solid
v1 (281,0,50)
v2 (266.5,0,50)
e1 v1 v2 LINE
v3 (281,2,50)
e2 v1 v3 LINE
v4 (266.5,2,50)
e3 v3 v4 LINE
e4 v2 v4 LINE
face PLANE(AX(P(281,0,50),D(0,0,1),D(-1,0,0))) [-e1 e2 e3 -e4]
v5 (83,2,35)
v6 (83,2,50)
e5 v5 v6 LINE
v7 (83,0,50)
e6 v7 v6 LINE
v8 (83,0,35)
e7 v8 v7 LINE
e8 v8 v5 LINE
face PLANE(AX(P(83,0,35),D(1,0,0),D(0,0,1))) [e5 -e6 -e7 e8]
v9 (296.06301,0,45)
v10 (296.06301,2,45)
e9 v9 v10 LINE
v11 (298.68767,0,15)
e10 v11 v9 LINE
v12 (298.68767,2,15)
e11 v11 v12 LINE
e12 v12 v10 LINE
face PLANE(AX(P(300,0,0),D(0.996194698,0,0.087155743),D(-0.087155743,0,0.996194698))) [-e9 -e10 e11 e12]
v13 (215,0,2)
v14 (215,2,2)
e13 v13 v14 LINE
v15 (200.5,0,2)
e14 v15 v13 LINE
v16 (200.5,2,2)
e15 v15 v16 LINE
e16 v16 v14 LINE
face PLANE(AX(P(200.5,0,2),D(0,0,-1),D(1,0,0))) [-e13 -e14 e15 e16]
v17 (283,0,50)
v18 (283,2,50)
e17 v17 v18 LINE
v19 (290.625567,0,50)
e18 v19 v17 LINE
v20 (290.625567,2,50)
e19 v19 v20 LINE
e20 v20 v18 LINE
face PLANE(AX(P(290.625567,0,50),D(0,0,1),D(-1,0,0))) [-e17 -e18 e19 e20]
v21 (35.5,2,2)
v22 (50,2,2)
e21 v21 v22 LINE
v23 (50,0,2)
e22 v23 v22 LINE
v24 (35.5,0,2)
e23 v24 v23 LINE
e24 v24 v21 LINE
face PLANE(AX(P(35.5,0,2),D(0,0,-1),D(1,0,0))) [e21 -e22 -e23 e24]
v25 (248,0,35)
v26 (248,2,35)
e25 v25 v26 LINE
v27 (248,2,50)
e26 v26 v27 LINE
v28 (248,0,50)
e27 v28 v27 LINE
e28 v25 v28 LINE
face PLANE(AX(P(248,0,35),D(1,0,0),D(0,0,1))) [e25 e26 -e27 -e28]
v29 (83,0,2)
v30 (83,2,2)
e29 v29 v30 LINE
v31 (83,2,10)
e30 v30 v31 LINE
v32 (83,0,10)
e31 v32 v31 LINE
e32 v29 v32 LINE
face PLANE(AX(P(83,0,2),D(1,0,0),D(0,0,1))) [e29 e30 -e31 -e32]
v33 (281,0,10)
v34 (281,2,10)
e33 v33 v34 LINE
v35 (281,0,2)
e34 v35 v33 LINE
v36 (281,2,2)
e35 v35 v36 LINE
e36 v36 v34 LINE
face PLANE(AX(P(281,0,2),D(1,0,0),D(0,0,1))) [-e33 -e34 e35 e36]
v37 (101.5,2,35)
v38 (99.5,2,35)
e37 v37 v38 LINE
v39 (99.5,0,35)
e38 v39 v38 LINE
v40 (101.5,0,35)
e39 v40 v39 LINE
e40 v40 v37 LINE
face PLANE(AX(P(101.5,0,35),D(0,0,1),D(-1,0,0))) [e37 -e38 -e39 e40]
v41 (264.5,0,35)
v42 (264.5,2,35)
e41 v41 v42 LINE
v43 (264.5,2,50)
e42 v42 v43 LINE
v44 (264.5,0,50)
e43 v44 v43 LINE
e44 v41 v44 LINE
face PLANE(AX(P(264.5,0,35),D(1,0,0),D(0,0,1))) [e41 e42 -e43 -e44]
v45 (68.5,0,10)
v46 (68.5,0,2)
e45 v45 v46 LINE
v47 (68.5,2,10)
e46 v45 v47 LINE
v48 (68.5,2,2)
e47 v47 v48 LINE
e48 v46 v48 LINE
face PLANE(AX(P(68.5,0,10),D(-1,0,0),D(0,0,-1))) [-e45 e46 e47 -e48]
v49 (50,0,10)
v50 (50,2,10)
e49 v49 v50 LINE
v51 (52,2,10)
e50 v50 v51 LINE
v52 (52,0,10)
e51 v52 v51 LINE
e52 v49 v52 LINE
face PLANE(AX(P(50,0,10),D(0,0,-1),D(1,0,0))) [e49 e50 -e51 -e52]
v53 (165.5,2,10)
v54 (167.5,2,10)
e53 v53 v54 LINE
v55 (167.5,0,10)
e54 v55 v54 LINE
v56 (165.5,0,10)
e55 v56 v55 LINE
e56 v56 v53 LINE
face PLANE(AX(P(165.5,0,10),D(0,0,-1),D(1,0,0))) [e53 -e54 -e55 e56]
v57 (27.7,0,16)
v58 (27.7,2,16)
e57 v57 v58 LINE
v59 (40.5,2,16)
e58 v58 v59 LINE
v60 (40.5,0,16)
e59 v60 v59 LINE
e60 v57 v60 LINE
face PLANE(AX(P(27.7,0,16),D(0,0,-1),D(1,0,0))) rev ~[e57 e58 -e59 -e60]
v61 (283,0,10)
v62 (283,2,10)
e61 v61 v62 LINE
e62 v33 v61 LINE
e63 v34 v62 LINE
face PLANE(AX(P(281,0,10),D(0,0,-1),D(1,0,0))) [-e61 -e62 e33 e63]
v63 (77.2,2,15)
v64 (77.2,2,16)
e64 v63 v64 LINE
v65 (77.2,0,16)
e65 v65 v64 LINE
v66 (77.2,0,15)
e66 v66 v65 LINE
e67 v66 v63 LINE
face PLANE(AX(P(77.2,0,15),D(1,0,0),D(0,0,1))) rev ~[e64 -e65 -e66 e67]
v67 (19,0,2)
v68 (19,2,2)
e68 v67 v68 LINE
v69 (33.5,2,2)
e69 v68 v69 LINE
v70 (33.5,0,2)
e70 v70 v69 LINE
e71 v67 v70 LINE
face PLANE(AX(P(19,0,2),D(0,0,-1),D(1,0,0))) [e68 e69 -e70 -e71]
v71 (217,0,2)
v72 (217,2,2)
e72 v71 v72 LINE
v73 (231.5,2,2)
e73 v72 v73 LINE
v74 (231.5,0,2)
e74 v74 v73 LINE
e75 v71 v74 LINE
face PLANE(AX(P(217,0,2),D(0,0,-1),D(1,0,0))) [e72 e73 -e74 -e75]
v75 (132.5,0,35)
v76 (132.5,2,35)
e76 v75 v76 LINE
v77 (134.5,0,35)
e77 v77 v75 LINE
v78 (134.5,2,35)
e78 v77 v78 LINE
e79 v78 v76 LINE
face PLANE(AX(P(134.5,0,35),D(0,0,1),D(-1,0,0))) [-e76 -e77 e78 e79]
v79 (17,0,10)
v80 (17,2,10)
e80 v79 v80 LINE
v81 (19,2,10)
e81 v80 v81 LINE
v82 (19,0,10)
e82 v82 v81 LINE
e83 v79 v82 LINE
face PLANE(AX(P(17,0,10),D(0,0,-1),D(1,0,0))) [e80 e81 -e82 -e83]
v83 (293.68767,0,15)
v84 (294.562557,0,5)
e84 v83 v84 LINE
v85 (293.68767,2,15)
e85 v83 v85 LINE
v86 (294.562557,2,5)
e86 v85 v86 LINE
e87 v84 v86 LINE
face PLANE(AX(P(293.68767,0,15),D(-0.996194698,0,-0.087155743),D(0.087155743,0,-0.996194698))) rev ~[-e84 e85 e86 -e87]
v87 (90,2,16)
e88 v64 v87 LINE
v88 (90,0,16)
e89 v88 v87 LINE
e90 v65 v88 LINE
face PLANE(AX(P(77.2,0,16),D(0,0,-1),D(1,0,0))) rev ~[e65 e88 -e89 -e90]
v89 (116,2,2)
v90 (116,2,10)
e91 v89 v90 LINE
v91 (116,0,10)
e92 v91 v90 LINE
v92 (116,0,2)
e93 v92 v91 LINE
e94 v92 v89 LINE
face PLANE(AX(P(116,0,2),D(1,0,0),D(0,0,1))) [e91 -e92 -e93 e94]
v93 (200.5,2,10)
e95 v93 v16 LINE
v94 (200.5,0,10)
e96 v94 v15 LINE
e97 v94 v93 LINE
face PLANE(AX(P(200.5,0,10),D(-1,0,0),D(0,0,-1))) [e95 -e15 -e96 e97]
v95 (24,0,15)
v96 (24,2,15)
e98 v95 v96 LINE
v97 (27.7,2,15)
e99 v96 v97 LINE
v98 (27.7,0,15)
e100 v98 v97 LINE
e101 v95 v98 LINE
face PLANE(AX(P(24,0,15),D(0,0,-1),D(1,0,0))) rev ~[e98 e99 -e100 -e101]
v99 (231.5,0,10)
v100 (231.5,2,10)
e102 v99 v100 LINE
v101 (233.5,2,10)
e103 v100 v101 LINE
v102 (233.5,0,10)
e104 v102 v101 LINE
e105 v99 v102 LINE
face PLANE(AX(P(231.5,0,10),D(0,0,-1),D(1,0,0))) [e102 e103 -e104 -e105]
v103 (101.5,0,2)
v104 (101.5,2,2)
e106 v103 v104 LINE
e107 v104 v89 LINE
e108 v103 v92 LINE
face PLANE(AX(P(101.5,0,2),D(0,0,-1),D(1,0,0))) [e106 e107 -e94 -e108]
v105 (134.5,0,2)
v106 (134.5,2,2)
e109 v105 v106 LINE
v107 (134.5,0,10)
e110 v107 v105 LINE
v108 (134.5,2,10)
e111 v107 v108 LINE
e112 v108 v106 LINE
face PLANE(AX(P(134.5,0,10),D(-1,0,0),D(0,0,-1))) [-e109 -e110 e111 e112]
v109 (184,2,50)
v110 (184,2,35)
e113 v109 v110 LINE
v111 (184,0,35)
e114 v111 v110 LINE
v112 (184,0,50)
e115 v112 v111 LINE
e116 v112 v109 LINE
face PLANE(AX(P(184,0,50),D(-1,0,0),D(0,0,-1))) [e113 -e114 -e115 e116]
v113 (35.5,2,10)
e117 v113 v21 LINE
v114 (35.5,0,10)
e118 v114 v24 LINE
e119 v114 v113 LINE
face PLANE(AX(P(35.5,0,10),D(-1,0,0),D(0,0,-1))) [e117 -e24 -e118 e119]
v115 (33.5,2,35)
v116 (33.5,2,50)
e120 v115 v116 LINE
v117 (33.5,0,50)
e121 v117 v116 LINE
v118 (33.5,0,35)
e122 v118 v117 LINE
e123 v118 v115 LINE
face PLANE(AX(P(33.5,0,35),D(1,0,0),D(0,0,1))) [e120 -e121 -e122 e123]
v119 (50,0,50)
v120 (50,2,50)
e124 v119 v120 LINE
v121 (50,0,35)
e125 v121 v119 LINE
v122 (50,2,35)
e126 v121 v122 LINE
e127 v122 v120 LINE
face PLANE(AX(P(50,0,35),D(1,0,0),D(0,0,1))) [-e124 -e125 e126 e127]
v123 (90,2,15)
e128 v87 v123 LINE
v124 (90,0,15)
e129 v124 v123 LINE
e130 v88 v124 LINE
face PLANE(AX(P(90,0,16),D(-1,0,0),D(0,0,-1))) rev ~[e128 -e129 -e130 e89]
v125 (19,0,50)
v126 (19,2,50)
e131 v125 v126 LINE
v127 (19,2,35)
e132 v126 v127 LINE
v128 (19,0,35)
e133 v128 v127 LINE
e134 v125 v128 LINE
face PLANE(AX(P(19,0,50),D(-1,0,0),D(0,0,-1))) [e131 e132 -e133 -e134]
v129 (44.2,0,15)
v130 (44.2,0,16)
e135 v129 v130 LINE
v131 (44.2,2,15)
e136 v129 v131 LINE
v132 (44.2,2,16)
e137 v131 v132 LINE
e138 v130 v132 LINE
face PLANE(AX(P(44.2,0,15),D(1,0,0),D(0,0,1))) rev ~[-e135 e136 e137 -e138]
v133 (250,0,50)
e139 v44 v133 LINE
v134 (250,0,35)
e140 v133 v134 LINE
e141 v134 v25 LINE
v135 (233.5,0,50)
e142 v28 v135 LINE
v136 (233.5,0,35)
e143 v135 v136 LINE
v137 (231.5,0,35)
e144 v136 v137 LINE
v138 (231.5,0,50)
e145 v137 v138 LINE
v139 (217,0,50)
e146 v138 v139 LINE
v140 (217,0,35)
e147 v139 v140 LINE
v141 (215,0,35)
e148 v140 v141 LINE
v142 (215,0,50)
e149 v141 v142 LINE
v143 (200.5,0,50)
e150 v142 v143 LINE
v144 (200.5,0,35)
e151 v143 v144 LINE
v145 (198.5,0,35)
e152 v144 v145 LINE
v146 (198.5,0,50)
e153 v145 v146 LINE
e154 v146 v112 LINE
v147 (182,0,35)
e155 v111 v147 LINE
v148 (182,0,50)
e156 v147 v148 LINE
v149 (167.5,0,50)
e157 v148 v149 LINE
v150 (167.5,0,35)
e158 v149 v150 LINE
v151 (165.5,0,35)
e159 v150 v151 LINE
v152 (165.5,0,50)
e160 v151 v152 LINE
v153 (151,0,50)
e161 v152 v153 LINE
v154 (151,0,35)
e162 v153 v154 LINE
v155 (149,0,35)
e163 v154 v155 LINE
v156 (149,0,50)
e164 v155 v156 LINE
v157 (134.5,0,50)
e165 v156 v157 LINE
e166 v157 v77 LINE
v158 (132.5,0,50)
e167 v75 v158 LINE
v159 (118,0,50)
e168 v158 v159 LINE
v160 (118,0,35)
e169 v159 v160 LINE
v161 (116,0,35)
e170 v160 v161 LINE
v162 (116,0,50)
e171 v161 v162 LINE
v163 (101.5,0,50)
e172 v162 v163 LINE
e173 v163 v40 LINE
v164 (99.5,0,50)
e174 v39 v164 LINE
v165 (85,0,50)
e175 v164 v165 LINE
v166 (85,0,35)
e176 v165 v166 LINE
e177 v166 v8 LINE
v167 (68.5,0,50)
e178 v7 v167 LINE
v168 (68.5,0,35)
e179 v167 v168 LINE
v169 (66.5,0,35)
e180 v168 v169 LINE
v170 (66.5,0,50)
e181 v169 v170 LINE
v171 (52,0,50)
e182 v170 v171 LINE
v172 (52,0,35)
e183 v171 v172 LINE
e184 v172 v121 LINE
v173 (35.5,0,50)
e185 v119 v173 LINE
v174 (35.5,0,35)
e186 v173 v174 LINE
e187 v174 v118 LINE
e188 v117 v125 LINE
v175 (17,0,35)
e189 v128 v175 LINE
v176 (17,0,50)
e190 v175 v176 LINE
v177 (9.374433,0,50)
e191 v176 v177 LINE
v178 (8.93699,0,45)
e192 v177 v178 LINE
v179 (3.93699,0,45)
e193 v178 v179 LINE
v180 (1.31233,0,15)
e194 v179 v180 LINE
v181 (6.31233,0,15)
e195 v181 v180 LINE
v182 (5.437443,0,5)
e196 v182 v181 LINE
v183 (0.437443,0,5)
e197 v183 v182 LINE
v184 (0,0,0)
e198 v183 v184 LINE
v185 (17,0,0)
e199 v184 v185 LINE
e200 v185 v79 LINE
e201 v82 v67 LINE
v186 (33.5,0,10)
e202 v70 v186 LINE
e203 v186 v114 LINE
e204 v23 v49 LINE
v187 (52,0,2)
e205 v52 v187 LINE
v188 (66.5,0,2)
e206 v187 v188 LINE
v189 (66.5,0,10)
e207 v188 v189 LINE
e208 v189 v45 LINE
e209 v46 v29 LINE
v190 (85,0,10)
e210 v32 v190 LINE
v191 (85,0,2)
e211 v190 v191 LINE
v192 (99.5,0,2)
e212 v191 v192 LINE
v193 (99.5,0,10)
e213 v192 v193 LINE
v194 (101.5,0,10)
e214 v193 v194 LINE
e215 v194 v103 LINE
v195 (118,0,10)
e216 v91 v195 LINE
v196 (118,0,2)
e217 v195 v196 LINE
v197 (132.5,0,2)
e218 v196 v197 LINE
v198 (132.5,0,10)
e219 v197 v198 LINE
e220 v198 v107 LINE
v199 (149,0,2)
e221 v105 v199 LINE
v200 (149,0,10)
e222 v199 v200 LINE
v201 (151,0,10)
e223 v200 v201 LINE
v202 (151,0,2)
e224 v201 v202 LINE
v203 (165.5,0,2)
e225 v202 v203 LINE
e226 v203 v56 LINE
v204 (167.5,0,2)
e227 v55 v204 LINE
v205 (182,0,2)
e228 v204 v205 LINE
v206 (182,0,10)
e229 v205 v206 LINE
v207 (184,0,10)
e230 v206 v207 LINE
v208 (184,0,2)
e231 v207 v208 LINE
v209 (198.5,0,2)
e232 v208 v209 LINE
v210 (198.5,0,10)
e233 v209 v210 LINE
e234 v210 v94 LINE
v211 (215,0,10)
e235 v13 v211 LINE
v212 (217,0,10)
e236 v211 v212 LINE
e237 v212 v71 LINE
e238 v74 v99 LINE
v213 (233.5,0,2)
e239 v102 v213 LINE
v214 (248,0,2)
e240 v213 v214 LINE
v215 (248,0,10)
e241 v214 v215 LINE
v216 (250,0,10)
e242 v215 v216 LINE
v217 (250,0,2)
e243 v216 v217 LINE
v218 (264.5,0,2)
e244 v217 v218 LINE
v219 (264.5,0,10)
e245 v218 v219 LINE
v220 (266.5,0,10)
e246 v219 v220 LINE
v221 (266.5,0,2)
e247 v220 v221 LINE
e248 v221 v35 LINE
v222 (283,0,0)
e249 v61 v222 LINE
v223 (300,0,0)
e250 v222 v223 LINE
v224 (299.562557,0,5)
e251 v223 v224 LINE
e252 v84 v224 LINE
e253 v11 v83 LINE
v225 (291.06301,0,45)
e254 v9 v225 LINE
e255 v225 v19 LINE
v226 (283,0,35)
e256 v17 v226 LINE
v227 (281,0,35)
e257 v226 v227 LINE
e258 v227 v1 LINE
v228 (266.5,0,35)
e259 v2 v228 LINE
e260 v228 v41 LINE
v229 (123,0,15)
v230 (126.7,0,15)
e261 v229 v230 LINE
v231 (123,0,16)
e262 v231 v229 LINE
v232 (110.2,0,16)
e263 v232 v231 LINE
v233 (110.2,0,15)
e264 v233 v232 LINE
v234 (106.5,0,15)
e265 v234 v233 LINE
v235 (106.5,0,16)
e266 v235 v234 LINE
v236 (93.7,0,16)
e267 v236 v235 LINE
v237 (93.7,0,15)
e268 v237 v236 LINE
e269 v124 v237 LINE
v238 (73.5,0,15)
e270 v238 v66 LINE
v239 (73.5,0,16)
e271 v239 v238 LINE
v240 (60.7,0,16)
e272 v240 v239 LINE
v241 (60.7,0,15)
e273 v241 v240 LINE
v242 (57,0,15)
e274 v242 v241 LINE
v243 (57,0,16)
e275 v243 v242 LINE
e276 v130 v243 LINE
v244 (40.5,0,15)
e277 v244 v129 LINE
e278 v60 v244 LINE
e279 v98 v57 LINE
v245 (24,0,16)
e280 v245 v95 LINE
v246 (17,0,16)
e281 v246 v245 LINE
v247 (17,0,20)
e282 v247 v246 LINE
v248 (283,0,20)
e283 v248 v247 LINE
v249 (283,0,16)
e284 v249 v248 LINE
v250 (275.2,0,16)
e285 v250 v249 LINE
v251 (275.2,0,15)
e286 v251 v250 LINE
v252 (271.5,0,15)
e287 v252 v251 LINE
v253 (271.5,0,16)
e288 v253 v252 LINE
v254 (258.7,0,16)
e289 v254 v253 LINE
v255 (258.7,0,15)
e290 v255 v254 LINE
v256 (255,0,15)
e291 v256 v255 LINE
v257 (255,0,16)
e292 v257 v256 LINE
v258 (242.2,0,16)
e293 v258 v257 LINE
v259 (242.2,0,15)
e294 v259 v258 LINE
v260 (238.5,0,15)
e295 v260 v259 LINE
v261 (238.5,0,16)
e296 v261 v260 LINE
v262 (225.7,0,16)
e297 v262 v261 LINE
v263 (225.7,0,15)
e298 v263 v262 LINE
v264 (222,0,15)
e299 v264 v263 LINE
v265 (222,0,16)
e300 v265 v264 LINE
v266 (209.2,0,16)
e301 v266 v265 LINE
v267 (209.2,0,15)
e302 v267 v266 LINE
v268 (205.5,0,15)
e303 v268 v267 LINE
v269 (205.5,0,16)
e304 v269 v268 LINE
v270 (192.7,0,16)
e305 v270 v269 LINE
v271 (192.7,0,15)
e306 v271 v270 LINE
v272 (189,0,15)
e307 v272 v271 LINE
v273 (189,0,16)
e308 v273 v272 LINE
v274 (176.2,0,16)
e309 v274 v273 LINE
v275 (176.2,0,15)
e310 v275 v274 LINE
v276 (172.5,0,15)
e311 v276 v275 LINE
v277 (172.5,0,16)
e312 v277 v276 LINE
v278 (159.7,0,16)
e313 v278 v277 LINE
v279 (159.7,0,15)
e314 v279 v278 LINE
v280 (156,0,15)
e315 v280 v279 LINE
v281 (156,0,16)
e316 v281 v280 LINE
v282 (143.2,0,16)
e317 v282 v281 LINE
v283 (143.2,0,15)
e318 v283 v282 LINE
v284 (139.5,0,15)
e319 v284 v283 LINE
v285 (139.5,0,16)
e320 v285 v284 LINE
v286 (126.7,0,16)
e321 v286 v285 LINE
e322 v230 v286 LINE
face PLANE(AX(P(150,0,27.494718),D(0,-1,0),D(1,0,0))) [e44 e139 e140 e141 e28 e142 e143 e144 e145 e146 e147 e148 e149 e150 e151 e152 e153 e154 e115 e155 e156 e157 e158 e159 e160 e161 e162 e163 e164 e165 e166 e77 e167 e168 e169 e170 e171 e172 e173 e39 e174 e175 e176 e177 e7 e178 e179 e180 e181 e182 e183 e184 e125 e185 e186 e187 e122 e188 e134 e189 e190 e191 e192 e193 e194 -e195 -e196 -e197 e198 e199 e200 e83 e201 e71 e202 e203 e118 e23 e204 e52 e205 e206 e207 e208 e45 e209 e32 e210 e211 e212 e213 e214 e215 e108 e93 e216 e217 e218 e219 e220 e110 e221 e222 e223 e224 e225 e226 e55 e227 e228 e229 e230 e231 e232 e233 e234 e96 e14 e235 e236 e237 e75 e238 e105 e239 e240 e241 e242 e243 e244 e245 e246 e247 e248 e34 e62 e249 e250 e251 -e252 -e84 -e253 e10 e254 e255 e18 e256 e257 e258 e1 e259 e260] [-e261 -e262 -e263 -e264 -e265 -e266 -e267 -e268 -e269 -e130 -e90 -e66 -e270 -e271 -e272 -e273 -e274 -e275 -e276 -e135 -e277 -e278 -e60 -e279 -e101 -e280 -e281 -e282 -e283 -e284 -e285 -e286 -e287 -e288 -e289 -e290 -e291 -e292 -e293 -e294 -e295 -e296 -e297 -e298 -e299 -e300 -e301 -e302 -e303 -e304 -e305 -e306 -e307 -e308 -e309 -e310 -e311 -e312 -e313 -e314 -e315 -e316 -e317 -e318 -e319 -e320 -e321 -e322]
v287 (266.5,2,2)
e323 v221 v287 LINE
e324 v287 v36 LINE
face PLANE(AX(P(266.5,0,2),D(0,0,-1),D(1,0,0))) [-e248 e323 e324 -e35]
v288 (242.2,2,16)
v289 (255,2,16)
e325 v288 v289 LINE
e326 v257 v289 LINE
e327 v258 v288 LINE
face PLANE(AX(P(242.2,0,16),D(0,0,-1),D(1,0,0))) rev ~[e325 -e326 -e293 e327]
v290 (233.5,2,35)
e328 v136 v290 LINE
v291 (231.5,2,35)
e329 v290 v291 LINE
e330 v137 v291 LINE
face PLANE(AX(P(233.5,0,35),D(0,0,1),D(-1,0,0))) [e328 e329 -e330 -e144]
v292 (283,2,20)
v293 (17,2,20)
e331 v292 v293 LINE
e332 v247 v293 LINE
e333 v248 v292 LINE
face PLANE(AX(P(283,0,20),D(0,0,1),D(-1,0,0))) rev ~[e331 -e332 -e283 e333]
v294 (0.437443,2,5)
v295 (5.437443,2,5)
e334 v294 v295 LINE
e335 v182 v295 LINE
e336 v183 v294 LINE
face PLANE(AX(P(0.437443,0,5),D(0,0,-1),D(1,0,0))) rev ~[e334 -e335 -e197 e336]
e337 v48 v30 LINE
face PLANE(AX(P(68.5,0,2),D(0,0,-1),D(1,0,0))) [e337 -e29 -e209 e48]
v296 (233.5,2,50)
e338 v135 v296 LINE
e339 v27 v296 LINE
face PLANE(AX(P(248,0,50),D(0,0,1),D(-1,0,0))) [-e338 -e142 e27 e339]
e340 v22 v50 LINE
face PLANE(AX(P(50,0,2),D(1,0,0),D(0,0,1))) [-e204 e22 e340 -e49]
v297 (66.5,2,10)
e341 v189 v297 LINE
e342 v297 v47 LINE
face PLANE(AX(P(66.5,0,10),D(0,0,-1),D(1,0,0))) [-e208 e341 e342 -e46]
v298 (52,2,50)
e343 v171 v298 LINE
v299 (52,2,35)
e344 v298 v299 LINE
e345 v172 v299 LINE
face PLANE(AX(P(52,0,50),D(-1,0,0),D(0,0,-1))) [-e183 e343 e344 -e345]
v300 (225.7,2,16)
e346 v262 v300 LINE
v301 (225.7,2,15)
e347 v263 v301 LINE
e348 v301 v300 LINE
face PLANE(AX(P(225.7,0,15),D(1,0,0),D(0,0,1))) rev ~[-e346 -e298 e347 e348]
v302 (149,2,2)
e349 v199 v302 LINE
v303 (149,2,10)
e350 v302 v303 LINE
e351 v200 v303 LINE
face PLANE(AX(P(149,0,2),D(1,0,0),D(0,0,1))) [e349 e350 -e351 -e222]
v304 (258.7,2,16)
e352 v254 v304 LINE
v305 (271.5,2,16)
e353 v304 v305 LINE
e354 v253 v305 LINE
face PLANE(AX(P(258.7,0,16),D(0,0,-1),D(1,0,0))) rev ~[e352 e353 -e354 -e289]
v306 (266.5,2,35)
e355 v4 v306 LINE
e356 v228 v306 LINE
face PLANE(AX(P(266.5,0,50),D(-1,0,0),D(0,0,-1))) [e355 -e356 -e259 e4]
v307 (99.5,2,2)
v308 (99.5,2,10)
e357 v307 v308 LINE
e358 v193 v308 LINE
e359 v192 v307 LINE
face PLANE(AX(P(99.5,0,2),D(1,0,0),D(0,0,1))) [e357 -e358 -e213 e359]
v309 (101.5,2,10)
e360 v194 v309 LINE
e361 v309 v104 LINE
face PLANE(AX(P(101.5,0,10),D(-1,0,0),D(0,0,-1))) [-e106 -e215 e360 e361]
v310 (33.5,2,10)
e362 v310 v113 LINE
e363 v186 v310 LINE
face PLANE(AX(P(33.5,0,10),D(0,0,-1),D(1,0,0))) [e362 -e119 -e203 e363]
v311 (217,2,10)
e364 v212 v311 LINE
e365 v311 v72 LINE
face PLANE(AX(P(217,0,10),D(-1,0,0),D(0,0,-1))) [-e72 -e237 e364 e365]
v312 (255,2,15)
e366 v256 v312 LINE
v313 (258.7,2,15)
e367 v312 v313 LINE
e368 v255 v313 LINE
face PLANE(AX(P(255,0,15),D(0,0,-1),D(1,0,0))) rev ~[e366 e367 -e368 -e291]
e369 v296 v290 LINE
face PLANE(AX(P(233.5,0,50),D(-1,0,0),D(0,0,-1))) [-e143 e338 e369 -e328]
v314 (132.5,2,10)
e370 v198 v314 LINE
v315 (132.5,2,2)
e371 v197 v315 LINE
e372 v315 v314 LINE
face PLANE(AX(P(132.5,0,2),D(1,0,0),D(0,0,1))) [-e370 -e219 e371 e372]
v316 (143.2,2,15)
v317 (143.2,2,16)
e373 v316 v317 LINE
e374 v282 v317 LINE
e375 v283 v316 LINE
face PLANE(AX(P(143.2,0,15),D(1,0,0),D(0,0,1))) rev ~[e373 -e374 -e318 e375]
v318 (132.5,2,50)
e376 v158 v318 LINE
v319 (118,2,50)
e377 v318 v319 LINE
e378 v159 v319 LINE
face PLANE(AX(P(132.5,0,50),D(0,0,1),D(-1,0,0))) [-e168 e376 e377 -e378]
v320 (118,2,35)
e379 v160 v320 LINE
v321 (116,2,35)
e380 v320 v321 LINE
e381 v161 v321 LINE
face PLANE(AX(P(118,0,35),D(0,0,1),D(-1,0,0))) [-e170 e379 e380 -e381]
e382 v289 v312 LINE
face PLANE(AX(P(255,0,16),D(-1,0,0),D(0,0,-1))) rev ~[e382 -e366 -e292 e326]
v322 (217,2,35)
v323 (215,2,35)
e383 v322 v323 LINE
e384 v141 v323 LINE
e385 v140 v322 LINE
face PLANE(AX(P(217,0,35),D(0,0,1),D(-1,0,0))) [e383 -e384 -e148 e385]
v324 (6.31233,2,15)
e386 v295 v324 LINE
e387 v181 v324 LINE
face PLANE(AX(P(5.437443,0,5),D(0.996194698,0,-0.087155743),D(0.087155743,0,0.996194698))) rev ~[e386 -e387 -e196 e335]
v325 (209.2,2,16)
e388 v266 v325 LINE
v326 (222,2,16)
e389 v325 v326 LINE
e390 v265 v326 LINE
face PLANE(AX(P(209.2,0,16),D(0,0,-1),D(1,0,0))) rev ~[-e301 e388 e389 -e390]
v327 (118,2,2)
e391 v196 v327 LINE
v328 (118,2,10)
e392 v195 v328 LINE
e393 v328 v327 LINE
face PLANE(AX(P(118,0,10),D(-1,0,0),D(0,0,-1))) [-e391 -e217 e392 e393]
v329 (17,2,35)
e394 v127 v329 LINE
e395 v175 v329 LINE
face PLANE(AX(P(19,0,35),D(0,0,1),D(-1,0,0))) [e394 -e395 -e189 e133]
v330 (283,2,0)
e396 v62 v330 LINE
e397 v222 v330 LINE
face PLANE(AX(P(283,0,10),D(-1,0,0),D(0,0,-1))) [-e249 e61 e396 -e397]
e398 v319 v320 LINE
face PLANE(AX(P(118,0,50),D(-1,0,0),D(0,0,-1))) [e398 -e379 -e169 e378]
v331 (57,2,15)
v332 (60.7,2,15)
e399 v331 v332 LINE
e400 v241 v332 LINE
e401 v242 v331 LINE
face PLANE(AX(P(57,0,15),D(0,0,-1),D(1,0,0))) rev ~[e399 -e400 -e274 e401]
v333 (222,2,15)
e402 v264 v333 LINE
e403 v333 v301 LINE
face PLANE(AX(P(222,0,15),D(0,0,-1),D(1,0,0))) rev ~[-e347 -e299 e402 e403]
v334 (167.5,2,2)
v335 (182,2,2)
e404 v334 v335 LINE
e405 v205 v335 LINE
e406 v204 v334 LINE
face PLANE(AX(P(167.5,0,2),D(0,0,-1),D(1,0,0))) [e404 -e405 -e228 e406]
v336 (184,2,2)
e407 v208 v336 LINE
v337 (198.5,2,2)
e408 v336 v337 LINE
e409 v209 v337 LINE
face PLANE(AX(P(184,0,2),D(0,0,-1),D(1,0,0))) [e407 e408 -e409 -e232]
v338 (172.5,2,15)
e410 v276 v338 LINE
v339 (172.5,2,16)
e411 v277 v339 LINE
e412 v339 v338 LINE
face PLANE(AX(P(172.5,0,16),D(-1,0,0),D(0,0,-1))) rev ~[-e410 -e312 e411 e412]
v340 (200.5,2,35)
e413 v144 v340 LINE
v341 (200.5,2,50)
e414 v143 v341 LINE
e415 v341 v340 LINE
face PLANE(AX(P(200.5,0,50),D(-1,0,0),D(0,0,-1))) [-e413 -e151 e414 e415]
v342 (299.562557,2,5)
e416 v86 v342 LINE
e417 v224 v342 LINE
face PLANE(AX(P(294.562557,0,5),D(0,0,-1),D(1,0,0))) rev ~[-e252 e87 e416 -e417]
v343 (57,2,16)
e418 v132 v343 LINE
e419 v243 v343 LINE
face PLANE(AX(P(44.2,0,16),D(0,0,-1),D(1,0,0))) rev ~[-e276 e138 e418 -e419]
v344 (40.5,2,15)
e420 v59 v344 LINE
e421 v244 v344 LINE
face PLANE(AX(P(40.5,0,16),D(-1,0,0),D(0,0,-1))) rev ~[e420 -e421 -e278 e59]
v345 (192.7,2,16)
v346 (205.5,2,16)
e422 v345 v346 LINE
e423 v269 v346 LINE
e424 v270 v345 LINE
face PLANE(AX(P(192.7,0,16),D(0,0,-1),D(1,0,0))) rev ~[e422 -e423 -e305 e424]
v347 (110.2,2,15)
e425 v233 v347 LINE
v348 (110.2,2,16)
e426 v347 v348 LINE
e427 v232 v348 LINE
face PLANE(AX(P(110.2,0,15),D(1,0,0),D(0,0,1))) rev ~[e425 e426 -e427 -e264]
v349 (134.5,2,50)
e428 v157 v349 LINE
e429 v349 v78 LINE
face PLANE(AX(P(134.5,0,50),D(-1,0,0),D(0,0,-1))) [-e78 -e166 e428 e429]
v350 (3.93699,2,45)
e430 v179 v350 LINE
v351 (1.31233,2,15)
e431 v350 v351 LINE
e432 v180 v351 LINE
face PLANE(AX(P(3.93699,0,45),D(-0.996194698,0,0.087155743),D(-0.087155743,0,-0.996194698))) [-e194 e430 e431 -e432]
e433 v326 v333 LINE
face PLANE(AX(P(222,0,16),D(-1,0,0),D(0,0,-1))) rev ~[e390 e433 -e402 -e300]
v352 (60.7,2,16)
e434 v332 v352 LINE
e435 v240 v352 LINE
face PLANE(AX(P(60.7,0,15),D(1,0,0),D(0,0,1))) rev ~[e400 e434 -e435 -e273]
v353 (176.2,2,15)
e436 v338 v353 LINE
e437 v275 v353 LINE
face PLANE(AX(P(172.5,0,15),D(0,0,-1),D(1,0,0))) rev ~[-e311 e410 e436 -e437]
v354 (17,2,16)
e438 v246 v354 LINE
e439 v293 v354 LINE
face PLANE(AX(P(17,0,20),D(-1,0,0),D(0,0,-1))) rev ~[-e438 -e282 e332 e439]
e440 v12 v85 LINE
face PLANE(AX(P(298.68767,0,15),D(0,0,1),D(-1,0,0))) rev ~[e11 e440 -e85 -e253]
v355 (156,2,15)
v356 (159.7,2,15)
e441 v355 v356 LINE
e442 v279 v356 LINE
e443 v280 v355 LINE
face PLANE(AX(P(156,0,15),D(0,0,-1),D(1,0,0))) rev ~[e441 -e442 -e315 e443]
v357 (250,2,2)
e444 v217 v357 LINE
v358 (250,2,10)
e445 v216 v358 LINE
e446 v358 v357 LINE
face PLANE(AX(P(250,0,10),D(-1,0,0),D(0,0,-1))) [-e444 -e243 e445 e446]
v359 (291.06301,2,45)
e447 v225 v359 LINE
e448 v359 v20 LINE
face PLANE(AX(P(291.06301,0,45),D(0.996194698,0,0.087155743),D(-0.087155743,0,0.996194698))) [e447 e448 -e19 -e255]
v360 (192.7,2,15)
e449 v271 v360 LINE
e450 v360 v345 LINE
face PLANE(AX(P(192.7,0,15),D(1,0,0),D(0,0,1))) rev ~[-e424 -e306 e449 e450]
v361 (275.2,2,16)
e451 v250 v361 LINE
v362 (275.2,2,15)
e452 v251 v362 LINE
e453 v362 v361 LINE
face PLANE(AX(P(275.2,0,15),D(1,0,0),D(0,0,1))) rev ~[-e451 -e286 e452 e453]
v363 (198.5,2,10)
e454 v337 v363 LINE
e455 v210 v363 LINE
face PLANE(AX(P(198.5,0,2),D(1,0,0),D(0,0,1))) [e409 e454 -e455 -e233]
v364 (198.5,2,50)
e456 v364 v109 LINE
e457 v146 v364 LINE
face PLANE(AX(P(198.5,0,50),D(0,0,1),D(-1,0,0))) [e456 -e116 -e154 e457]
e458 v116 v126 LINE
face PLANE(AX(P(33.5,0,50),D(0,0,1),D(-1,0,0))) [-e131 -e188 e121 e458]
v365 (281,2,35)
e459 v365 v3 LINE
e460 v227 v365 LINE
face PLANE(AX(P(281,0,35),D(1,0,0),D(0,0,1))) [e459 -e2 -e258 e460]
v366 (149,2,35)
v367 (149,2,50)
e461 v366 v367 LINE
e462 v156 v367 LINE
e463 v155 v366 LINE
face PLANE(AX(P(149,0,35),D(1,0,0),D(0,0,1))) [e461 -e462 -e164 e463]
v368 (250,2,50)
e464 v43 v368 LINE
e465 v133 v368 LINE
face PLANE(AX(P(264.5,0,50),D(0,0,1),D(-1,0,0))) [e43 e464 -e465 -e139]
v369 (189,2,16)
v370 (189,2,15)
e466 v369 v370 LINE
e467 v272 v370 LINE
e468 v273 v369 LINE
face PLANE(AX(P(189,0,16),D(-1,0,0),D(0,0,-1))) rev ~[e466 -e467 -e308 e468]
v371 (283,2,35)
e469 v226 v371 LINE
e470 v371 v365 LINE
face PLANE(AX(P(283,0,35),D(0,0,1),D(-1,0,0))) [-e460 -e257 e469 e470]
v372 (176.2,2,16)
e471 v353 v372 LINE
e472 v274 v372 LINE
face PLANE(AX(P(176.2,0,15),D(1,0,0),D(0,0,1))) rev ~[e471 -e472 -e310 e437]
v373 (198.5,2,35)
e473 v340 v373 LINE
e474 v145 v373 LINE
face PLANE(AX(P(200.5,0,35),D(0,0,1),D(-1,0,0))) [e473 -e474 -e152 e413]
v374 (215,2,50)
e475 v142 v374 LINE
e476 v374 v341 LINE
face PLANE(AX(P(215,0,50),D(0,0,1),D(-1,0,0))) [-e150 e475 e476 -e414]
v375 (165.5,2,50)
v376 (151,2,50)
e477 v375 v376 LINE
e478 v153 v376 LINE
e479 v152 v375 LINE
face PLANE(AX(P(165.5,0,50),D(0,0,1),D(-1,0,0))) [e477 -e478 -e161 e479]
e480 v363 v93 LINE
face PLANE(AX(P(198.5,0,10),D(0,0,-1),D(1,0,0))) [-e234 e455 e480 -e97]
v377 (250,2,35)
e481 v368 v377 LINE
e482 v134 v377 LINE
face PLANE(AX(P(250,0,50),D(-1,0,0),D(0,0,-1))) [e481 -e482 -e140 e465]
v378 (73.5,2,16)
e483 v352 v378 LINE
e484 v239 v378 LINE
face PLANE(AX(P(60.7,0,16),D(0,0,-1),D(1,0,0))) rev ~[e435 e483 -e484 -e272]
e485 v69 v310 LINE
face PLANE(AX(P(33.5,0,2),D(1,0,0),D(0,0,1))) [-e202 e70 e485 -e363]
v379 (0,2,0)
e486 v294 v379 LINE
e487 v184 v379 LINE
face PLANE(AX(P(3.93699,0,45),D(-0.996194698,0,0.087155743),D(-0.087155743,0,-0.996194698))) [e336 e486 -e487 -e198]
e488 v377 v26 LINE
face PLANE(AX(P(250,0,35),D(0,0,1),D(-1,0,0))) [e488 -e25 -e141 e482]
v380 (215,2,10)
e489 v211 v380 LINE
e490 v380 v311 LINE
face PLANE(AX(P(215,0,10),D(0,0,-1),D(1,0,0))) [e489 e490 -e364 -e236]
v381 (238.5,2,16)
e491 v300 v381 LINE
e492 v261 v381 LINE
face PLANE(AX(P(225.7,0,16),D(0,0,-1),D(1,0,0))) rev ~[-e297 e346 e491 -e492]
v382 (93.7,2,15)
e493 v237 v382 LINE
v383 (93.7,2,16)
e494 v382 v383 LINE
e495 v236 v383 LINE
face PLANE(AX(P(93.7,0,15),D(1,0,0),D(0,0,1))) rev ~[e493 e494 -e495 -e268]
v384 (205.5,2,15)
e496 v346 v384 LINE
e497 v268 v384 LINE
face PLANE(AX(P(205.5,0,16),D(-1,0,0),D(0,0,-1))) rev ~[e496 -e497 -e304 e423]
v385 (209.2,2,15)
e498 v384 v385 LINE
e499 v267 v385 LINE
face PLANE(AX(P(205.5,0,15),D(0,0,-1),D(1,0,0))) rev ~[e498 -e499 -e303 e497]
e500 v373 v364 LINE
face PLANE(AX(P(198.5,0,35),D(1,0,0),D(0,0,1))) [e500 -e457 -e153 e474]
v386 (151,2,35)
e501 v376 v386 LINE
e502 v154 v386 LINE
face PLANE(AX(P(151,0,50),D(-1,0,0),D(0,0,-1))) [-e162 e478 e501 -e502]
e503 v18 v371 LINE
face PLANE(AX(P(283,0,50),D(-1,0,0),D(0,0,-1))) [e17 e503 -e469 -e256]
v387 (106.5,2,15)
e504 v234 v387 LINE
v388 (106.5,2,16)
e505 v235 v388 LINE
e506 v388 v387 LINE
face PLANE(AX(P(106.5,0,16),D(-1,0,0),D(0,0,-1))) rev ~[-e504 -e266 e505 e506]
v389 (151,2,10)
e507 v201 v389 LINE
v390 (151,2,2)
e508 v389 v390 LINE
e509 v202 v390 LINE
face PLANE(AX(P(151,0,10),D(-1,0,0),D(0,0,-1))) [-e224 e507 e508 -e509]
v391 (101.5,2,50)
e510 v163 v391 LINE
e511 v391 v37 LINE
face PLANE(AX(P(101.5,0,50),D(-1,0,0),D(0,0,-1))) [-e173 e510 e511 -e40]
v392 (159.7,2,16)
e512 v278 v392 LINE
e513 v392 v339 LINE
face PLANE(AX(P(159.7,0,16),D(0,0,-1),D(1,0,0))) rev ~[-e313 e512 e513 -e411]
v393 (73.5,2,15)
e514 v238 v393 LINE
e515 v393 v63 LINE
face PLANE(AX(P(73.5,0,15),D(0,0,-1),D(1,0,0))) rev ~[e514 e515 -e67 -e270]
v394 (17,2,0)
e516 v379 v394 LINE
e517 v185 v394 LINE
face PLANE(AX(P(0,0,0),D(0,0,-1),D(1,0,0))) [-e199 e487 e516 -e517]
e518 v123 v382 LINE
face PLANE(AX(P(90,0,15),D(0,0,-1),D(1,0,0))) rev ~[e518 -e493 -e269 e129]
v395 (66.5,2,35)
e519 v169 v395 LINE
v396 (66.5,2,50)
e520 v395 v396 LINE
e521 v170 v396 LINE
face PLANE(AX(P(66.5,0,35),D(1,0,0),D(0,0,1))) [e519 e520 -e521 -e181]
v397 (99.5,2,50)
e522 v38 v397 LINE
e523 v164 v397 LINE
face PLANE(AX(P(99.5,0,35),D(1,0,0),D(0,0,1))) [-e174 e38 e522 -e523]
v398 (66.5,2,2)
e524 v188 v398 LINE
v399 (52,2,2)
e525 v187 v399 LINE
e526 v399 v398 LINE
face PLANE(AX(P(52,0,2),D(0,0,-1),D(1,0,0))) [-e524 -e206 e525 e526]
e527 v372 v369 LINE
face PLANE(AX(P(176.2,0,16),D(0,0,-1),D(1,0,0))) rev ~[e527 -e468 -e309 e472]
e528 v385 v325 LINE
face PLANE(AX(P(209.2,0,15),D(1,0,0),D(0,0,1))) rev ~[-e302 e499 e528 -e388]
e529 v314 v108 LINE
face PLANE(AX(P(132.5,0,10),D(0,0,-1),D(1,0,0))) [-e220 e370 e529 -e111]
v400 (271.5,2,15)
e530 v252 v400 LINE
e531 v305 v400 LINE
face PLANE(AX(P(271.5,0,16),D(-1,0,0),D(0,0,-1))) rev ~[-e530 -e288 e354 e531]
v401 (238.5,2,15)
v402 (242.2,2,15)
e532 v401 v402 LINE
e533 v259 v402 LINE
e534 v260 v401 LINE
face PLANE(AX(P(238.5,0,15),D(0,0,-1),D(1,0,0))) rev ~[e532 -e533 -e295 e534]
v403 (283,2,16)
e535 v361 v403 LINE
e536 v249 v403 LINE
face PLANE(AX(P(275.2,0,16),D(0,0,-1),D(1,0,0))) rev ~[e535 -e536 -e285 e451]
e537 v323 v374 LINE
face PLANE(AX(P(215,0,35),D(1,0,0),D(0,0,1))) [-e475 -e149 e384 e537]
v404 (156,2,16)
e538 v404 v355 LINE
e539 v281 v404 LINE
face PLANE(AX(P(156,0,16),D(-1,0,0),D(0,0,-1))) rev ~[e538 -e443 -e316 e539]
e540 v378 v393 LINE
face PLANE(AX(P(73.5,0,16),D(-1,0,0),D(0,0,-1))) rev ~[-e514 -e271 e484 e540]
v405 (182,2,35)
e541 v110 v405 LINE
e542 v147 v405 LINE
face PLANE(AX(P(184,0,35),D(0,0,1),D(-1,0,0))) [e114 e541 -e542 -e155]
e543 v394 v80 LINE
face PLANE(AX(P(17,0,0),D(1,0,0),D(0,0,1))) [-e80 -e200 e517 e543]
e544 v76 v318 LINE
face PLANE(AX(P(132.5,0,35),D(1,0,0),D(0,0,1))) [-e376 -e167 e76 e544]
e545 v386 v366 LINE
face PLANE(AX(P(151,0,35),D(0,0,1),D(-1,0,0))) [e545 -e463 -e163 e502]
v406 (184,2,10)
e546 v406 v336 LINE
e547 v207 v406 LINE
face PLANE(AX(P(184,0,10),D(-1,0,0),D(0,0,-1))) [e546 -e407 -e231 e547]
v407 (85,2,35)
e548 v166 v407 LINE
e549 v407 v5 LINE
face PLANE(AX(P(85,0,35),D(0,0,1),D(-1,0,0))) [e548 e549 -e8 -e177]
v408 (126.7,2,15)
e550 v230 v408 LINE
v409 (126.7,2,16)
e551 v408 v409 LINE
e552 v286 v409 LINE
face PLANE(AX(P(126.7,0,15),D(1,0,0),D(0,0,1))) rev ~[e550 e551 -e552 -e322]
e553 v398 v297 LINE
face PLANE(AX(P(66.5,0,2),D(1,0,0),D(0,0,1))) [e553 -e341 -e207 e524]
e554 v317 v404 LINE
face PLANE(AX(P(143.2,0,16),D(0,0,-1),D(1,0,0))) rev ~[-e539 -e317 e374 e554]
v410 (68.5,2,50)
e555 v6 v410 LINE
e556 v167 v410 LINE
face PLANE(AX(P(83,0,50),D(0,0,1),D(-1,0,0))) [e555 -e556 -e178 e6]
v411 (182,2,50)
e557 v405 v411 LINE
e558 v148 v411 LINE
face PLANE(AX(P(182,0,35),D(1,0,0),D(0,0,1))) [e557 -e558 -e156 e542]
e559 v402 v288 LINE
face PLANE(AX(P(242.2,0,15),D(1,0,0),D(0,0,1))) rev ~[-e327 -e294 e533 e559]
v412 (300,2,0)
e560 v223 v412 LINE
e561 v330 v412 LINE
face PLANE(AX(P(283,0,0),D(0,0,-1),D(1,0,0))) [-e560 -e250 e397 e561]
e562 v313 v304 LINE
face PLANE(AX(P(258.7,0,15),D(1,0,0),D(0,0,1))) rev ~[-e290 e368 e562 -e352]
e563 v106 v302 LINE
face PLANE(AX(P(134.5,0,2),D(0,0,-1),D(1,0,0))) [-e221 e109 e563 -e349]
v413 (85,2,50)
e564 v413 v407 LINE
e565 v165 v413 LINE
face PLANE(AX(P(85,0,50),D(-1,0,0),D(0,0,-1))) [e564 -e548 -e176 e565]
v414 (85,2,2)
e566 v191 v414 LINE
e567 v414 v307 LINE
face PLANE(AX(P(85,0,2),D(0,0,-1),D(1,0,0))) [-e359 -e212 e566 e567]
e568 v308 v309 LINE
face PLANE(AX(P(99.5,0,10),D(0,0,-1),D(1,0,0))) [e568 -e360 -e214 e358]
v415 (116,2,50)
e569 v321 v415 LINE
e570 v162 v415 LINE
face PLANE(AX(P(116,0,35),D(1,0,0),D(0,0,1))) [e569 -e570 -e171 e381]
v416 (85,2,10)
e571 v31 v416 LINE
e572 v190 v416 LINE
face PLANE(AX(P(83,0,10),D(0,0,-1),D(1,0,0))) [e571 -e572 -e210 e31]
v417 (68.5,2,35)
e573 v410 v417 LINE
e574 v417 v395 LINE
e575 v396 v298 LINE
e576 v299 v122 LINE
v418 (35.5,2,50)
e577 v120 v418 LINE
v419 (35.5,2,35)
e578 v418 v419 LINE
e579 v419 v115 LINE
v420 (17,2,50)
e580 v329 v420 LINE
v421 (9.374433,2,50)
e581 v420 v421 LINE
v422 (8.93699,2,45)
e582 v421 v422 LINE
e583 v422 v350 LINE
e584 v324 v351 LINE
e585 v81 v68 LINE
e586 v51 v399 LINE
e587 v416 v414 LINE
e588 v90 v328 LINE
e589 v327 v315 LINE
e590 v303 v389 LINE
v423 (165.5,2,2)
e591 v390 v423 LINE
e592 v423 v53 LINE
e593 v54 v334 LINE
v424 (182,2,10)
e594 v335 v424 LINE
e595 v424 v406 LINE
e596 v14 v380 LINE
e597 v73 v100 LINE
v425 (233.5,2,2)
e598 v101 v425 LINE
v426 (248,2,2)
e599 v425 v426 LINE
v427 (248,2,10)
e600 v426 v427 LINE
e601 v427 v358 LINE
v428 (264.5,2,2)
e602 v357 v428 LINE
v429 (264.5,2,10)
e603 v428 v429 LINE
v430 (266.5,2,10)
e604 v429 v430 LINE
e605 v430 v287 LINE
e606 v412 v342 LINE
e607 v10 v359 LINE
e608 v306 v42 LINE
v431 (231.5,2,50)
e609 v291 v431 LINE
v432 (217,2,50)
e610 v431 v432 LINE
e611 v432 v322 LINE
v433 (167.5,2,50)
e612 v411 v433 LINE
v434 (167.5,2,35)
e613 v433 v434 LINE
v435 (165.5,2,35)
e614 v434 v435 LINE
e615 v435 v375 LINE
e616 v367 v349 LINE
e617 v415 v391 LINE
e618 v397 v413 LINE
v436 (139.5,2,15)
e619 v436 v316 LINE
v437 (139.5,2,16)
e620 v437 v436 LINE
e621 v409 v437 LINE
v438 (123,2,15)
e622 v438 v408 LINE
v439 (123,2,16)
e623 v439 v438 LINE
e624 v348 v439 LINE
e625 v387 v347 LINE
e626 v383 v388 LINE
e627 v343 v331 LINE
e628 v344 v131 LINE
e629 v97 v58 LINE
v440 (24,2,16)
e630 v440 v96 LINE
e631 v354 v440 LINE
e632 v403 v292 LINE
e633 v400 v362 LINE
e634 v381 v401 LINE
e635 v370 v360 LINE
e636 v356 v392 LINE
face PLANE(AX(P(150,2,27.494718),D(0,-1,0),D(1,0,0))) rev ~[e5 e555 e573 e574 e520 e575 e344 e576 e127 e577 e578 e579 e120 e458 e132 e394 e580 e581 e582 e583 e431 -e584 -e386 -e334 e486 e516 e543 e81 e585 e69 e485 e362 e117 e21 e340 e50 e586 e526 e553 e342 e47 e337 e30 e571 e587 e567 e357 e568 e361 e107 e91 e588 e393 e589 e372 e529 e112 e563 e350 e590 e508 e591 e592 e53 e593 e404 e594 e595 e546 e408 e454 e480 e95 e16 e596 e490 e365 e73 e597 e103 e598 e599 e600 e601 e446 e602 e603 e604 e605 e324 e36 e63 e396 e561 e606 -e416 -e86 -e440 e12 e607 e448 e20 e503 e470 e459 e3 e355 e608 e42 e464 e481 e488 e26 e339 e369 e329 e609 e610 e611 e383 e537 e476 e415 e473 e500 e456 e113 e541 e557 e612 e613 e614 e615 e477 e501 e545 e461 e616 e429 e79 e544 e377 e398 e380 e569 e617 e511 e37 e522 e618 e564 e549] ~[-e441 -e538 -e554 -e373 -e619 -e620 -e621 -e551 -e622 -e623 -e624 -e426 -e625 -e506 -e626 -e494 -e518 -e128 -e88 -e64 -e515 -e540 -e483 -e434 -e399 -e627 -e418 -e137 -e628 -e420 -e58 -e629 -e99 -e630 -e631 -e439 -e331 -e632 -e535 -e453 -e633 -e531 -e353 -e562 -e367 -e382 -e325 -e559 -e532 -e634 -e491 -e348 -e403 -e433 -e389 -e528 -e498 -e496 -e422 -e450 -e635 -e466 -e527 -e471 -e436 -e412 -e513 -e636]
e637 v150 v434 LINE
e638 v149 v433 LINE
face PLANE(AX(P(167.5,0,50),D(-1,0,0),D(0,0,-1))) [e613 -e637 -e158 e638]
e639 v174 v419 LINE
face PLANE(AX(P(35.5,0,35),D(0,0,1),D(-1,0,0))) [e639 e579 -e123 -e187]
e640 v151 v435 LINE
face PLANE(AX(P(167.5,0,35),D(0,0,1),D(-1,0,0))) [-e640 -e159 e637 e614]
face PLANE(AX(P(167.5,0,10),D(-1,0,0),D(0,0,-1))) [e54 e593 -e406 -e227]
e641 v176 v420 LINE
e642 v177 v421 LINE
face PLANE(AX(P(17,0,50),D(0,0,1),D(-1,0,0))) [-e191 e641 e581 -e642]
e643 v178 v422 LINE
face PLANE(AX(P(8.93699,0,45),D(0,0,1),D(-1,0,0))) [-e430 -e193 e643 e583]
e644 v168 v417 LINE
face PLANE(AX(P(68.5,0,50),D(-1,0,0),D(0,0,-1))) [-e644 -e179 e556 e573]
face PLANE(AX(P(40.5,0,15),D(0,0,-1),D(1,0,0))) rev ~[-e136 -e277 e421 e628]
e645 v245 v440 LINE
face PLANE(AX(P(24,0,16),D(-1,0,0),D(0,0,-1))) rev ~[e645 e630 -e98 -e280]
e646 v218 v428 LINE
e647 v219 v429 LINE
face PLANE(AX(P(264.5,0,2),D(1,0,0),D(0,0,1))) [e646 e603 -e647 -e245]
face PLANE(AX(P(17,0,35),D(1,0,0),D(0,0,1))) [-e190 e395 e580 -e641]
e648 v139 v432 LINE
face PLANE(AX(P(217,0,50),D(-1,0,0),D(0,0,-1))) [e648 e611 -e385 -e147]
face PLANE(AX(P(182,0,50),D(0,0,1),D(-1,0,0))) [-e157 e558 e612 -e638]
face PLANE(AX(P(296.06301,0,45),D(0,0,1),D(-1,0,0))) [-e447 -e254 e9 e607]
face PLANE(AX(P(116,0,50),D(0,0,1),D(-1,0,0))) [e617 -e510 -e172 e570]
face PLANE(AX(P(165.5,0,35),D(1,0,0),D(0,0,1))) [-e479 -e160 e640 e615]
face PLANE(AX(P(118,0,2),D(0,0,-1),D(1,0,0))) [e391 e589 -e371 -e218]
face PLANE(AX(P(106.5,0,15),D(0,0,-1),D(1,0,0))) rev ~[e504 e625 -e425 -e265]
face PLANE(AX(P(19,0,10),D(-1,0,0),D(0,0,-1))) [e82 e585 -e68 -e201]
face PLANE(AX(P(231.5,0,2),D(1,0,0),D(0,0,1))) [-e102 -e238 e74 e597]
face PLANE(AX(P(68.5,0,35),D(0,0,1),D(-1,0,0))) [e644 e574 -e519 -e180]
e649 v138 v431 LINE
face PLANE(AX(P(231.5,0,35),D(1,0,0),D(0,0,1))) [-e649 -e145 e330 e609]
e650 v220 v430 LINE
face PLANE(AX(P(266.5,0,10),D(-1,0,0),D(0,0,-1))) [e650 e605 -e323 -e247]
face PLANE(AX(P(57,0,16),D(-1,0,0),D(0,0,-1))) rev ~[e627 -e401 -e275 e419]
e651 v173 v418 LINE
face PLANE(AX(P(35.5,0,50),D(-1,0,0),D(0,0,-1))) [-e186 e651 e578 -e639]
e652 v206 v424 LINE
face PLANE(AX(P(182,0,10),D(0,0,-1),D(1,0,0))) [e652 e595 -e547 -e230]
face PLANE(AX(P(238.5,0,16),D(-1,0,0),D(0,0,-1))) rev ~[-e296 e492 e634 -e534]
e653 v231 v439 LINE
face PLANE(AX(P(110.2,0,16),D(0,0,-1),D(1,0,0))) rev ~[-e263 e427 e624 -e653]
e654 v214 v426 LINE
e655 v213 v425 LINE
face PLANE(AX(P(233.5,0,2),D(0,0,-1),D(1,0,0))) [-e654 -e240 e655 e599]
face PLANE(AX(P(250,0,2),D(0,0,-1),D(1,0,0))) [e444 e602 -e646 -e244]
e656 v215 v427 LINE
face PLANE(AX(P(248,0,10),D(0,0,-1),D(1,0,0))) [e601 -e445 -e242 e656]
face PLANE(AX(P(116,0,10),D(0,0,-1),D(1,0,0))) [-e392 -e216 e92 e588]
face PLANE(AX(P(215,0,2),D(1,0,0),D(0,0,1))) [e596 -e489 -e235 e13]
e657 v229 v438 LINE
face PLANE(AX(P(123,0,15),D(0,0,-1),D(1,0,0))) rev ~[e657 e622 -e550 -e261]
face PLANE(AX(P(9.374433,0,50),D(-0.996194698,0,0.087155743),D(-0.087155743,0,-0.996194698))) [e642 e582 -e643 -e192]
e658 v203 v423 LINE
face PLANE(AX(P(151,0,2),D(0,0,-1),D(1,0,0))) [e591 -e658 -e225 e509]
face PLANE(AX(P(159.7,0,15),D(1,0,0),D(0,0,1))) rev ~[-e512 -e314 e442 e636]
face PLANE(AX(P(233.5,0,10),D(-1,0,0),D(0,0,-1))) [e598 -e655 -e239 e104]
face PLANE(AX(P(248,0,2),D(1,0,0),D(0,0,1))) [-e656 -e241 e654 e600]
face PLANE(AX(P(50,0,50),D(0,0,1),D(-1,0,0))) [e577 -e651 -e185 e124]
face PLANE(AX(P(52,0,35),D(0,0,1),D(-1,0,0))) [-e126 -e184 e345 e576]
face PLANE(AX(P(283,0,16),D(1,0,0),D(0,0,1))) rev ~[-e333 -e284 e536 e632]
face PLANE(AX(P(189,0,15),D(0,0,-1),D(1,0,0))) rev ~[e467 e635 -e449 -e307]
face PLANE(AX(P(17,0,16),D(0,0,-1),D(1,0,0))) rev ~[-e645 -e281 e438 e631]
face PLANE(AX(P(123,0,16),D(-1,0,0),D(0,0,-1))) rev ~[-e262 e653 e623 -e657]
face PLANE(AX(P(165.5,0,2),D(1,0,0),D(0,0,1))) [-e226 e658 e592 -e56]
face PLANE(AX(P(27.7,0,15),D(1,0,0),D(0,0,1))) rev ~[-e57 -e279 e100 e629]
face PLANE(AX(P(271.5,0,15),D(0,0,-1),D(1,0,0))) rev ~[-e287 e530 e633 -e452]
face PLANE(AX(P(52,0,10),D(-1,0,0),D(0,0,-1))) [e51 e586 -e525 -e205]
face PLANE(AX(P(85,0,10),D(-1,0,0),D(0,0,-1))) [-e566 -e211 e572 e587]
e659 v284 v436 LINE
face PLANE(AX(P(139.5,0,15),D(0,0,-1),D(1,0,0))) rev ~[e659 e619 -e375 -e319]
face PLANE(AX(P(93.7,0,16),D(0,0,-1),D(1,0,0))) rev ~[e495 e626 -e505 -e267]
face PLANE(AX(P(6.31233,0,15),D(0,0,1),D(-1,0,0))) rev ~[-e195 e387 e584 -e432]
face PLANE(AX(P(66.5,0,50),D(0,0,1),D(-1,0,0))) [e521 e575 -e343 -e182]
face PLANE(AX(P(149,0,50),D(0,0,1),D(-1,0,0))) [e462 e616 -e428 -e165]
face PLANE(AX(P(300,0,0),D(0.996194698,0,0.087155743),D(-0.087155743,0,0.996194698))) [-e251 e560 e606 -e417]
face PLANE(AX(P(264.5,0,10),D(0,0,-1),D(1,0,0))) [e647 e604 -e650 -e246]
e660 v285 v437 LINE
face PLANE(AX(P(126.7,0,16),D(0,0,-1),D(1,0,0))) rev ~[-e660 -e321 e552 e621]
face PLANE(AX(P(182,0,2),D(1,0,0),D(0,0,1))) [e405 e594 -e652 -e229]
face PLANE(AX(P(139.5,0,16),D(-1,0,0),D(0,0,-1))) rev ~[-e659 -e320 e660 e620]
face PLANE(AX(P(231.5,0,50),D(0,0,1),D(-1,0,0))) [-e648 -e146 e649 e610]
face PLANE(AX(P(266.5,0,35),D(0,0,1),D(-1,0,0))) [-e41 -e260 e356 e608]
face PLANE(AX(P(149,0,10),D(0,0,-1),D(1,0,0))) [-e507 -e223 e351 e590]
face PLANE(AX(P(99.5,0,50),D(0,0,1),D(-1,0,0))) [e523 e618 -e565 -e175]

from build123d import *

# Parameters (mm, degrees)
F1_DEPTH = 2
F3_DEPTH = 2


with BuildPart() as f1:
    # F0 (on Front) → F1 (new body)
    with BuildSketch(Plane.XZ):
        Polygon((3.9369898587, 45), (0, 0), (17, 0), (17, 10), (19, 10), (19, 2), (33.5, 2), (33.5, 10), (35.5, 10), (35.5, 2), (50, 2), (50, 10), (52, 10), (52, 2), (66.5, 2), (66.5, 10), (68.5, 10), (68.5, 2), (83, 2), (83, 10), (85, 10), (85, 2), (99.5, 2), (99.5, 10), (101.5, 10), (101.5, 2), (116, 2), (116, 10), (118, 10), (118, 2), (132.5, 2), (132.5, 10), (134.5, 10), (134.5, 2), (149, 2), (149, 10), (151, 10), (151, 2), (165.5, 2), (165.5, 10), (167.5, 10), (167.5, 2), (182, 2), (182, 10), (184, 10), (184, 2), (198.5, 2), (198.5, 10), (200.5, 10), (200.5, 2), (215, 2), (215, 10), (217, 10), (217, 2), (231.5, 2), (231.5, 10), (233.5, 10), (233.5, 2), (248, 2), (248, 10), (250, 10), (250, 2), (264.5, 2), (264.5, 10), (266.5, 10), (266.5, 2), (281, 2), (281, 10), (283, 10), (283, 0), (300, 0), (296.0630101413, 45), (291.0630101413, 45), (290.6255668237, 50), (283, 50), (283, 35), (281, 35), (281, 50), (266.5, 50), (266.5, 35), (264.5, 35), (264.5, 50), (250, 50), (250, 35), (248, 35), (248, 50), (233.5, 50), (233.5, 35), (231.5, 35), (231.5, 50), (217, 50), (217, 35), (215, 35), (215, 50), (200.5, 50), (200.5, 35), (198.5, 35), (198.5, 50), (184, 50), (184, 35), (182, 35), (182, 50), (167.5, 50), (167.5, 35), (165.5, 35), (165.5, 50), (151, 50), (151, 35), (149, 35), (149, 50), (134.5, 50), (134.5, 35), (132.5, 35), (132.5, 50), (118, 50), (118, 35), (116, 35), (116, 50), (101.5, 50), (101.5, 35), (99.5, 35), (99.5, 50), (85, 50), (85, 35), (83, 35), (83, 50), (68.5, 50), (68.5, 35), (66.5, 35), (66.5, 50), (52, 50), (52, 35), (50, 35), (50, 50), (35.5, 50), (35.5, 35), (33.5, 35), (33.5, 50), (19, 50), (19, 35), (17, 35), (17, 50), (9.3744331763, 50), (8.9369898587, 45), align=None)
    extrude(amount=-F1_DEPTH)

    # F2 (on Front) → F3 (cut, through all)
    with BuildSketch(Plane.XZ):
        Polygon((283, 20), (17, 20), (17, 16), (24, 16), (24, 15), (27.7, 15), (27.7, 16), (40.5, 16), (40.5, 15), (44.2, 15), (44.2, 16), (57, 16), (57, 15), (60.7, 15), (60.7, 16), (73.5, 16), (73.5, 15), (77.2, 15), (77.2, 16), (90, 16), (90, 15), (93.7, 15), (93.7, 16), (106.5, 16), (106.5, 15), (110.2, 15), (110.2, 16), (123, 16), (123, 15), (126.7, 15), (126.7, 16), (139.5, 16), (139.5, 15), (143.2, 15), (143.2, 16), (156, 16), (156, 15), (159.7, 15), (159.7, 16), (172.5, 16), (172.5, 15), (176.2, 15), (176.2, 16), (189, 16), (189, 15), (192.7, 15), (192.7, 16), (205.5, 16), (205.5, 15), (209.2, 15), (209.2, 16), (222, 16), (222, 15), (225.7, 15), (225.7, 16), (238.5, 16), (238.5, 15), (242.2, 15), (242.2, 16), (255, 16), (255, 15), (258.7, 15), (258.7, 16), (271.5, 16), (271.5, 15), (275.2, 15), (275.2, 16), (283, 16), align=None)
        Polygon((1.3123299529, 15), (0.4374433176, 5), (5.4374433176, 5), (6.3123299529, 15), align=None)
        Polygon((298.6876700471, 15), (293.6876700471, 15), (294.5625566824, 5), (299.5625566824, 5), align=None)
    extrude(amount=-F3_DEPTH, mode=Mode.SUBTRACT)


solid = f1.part
